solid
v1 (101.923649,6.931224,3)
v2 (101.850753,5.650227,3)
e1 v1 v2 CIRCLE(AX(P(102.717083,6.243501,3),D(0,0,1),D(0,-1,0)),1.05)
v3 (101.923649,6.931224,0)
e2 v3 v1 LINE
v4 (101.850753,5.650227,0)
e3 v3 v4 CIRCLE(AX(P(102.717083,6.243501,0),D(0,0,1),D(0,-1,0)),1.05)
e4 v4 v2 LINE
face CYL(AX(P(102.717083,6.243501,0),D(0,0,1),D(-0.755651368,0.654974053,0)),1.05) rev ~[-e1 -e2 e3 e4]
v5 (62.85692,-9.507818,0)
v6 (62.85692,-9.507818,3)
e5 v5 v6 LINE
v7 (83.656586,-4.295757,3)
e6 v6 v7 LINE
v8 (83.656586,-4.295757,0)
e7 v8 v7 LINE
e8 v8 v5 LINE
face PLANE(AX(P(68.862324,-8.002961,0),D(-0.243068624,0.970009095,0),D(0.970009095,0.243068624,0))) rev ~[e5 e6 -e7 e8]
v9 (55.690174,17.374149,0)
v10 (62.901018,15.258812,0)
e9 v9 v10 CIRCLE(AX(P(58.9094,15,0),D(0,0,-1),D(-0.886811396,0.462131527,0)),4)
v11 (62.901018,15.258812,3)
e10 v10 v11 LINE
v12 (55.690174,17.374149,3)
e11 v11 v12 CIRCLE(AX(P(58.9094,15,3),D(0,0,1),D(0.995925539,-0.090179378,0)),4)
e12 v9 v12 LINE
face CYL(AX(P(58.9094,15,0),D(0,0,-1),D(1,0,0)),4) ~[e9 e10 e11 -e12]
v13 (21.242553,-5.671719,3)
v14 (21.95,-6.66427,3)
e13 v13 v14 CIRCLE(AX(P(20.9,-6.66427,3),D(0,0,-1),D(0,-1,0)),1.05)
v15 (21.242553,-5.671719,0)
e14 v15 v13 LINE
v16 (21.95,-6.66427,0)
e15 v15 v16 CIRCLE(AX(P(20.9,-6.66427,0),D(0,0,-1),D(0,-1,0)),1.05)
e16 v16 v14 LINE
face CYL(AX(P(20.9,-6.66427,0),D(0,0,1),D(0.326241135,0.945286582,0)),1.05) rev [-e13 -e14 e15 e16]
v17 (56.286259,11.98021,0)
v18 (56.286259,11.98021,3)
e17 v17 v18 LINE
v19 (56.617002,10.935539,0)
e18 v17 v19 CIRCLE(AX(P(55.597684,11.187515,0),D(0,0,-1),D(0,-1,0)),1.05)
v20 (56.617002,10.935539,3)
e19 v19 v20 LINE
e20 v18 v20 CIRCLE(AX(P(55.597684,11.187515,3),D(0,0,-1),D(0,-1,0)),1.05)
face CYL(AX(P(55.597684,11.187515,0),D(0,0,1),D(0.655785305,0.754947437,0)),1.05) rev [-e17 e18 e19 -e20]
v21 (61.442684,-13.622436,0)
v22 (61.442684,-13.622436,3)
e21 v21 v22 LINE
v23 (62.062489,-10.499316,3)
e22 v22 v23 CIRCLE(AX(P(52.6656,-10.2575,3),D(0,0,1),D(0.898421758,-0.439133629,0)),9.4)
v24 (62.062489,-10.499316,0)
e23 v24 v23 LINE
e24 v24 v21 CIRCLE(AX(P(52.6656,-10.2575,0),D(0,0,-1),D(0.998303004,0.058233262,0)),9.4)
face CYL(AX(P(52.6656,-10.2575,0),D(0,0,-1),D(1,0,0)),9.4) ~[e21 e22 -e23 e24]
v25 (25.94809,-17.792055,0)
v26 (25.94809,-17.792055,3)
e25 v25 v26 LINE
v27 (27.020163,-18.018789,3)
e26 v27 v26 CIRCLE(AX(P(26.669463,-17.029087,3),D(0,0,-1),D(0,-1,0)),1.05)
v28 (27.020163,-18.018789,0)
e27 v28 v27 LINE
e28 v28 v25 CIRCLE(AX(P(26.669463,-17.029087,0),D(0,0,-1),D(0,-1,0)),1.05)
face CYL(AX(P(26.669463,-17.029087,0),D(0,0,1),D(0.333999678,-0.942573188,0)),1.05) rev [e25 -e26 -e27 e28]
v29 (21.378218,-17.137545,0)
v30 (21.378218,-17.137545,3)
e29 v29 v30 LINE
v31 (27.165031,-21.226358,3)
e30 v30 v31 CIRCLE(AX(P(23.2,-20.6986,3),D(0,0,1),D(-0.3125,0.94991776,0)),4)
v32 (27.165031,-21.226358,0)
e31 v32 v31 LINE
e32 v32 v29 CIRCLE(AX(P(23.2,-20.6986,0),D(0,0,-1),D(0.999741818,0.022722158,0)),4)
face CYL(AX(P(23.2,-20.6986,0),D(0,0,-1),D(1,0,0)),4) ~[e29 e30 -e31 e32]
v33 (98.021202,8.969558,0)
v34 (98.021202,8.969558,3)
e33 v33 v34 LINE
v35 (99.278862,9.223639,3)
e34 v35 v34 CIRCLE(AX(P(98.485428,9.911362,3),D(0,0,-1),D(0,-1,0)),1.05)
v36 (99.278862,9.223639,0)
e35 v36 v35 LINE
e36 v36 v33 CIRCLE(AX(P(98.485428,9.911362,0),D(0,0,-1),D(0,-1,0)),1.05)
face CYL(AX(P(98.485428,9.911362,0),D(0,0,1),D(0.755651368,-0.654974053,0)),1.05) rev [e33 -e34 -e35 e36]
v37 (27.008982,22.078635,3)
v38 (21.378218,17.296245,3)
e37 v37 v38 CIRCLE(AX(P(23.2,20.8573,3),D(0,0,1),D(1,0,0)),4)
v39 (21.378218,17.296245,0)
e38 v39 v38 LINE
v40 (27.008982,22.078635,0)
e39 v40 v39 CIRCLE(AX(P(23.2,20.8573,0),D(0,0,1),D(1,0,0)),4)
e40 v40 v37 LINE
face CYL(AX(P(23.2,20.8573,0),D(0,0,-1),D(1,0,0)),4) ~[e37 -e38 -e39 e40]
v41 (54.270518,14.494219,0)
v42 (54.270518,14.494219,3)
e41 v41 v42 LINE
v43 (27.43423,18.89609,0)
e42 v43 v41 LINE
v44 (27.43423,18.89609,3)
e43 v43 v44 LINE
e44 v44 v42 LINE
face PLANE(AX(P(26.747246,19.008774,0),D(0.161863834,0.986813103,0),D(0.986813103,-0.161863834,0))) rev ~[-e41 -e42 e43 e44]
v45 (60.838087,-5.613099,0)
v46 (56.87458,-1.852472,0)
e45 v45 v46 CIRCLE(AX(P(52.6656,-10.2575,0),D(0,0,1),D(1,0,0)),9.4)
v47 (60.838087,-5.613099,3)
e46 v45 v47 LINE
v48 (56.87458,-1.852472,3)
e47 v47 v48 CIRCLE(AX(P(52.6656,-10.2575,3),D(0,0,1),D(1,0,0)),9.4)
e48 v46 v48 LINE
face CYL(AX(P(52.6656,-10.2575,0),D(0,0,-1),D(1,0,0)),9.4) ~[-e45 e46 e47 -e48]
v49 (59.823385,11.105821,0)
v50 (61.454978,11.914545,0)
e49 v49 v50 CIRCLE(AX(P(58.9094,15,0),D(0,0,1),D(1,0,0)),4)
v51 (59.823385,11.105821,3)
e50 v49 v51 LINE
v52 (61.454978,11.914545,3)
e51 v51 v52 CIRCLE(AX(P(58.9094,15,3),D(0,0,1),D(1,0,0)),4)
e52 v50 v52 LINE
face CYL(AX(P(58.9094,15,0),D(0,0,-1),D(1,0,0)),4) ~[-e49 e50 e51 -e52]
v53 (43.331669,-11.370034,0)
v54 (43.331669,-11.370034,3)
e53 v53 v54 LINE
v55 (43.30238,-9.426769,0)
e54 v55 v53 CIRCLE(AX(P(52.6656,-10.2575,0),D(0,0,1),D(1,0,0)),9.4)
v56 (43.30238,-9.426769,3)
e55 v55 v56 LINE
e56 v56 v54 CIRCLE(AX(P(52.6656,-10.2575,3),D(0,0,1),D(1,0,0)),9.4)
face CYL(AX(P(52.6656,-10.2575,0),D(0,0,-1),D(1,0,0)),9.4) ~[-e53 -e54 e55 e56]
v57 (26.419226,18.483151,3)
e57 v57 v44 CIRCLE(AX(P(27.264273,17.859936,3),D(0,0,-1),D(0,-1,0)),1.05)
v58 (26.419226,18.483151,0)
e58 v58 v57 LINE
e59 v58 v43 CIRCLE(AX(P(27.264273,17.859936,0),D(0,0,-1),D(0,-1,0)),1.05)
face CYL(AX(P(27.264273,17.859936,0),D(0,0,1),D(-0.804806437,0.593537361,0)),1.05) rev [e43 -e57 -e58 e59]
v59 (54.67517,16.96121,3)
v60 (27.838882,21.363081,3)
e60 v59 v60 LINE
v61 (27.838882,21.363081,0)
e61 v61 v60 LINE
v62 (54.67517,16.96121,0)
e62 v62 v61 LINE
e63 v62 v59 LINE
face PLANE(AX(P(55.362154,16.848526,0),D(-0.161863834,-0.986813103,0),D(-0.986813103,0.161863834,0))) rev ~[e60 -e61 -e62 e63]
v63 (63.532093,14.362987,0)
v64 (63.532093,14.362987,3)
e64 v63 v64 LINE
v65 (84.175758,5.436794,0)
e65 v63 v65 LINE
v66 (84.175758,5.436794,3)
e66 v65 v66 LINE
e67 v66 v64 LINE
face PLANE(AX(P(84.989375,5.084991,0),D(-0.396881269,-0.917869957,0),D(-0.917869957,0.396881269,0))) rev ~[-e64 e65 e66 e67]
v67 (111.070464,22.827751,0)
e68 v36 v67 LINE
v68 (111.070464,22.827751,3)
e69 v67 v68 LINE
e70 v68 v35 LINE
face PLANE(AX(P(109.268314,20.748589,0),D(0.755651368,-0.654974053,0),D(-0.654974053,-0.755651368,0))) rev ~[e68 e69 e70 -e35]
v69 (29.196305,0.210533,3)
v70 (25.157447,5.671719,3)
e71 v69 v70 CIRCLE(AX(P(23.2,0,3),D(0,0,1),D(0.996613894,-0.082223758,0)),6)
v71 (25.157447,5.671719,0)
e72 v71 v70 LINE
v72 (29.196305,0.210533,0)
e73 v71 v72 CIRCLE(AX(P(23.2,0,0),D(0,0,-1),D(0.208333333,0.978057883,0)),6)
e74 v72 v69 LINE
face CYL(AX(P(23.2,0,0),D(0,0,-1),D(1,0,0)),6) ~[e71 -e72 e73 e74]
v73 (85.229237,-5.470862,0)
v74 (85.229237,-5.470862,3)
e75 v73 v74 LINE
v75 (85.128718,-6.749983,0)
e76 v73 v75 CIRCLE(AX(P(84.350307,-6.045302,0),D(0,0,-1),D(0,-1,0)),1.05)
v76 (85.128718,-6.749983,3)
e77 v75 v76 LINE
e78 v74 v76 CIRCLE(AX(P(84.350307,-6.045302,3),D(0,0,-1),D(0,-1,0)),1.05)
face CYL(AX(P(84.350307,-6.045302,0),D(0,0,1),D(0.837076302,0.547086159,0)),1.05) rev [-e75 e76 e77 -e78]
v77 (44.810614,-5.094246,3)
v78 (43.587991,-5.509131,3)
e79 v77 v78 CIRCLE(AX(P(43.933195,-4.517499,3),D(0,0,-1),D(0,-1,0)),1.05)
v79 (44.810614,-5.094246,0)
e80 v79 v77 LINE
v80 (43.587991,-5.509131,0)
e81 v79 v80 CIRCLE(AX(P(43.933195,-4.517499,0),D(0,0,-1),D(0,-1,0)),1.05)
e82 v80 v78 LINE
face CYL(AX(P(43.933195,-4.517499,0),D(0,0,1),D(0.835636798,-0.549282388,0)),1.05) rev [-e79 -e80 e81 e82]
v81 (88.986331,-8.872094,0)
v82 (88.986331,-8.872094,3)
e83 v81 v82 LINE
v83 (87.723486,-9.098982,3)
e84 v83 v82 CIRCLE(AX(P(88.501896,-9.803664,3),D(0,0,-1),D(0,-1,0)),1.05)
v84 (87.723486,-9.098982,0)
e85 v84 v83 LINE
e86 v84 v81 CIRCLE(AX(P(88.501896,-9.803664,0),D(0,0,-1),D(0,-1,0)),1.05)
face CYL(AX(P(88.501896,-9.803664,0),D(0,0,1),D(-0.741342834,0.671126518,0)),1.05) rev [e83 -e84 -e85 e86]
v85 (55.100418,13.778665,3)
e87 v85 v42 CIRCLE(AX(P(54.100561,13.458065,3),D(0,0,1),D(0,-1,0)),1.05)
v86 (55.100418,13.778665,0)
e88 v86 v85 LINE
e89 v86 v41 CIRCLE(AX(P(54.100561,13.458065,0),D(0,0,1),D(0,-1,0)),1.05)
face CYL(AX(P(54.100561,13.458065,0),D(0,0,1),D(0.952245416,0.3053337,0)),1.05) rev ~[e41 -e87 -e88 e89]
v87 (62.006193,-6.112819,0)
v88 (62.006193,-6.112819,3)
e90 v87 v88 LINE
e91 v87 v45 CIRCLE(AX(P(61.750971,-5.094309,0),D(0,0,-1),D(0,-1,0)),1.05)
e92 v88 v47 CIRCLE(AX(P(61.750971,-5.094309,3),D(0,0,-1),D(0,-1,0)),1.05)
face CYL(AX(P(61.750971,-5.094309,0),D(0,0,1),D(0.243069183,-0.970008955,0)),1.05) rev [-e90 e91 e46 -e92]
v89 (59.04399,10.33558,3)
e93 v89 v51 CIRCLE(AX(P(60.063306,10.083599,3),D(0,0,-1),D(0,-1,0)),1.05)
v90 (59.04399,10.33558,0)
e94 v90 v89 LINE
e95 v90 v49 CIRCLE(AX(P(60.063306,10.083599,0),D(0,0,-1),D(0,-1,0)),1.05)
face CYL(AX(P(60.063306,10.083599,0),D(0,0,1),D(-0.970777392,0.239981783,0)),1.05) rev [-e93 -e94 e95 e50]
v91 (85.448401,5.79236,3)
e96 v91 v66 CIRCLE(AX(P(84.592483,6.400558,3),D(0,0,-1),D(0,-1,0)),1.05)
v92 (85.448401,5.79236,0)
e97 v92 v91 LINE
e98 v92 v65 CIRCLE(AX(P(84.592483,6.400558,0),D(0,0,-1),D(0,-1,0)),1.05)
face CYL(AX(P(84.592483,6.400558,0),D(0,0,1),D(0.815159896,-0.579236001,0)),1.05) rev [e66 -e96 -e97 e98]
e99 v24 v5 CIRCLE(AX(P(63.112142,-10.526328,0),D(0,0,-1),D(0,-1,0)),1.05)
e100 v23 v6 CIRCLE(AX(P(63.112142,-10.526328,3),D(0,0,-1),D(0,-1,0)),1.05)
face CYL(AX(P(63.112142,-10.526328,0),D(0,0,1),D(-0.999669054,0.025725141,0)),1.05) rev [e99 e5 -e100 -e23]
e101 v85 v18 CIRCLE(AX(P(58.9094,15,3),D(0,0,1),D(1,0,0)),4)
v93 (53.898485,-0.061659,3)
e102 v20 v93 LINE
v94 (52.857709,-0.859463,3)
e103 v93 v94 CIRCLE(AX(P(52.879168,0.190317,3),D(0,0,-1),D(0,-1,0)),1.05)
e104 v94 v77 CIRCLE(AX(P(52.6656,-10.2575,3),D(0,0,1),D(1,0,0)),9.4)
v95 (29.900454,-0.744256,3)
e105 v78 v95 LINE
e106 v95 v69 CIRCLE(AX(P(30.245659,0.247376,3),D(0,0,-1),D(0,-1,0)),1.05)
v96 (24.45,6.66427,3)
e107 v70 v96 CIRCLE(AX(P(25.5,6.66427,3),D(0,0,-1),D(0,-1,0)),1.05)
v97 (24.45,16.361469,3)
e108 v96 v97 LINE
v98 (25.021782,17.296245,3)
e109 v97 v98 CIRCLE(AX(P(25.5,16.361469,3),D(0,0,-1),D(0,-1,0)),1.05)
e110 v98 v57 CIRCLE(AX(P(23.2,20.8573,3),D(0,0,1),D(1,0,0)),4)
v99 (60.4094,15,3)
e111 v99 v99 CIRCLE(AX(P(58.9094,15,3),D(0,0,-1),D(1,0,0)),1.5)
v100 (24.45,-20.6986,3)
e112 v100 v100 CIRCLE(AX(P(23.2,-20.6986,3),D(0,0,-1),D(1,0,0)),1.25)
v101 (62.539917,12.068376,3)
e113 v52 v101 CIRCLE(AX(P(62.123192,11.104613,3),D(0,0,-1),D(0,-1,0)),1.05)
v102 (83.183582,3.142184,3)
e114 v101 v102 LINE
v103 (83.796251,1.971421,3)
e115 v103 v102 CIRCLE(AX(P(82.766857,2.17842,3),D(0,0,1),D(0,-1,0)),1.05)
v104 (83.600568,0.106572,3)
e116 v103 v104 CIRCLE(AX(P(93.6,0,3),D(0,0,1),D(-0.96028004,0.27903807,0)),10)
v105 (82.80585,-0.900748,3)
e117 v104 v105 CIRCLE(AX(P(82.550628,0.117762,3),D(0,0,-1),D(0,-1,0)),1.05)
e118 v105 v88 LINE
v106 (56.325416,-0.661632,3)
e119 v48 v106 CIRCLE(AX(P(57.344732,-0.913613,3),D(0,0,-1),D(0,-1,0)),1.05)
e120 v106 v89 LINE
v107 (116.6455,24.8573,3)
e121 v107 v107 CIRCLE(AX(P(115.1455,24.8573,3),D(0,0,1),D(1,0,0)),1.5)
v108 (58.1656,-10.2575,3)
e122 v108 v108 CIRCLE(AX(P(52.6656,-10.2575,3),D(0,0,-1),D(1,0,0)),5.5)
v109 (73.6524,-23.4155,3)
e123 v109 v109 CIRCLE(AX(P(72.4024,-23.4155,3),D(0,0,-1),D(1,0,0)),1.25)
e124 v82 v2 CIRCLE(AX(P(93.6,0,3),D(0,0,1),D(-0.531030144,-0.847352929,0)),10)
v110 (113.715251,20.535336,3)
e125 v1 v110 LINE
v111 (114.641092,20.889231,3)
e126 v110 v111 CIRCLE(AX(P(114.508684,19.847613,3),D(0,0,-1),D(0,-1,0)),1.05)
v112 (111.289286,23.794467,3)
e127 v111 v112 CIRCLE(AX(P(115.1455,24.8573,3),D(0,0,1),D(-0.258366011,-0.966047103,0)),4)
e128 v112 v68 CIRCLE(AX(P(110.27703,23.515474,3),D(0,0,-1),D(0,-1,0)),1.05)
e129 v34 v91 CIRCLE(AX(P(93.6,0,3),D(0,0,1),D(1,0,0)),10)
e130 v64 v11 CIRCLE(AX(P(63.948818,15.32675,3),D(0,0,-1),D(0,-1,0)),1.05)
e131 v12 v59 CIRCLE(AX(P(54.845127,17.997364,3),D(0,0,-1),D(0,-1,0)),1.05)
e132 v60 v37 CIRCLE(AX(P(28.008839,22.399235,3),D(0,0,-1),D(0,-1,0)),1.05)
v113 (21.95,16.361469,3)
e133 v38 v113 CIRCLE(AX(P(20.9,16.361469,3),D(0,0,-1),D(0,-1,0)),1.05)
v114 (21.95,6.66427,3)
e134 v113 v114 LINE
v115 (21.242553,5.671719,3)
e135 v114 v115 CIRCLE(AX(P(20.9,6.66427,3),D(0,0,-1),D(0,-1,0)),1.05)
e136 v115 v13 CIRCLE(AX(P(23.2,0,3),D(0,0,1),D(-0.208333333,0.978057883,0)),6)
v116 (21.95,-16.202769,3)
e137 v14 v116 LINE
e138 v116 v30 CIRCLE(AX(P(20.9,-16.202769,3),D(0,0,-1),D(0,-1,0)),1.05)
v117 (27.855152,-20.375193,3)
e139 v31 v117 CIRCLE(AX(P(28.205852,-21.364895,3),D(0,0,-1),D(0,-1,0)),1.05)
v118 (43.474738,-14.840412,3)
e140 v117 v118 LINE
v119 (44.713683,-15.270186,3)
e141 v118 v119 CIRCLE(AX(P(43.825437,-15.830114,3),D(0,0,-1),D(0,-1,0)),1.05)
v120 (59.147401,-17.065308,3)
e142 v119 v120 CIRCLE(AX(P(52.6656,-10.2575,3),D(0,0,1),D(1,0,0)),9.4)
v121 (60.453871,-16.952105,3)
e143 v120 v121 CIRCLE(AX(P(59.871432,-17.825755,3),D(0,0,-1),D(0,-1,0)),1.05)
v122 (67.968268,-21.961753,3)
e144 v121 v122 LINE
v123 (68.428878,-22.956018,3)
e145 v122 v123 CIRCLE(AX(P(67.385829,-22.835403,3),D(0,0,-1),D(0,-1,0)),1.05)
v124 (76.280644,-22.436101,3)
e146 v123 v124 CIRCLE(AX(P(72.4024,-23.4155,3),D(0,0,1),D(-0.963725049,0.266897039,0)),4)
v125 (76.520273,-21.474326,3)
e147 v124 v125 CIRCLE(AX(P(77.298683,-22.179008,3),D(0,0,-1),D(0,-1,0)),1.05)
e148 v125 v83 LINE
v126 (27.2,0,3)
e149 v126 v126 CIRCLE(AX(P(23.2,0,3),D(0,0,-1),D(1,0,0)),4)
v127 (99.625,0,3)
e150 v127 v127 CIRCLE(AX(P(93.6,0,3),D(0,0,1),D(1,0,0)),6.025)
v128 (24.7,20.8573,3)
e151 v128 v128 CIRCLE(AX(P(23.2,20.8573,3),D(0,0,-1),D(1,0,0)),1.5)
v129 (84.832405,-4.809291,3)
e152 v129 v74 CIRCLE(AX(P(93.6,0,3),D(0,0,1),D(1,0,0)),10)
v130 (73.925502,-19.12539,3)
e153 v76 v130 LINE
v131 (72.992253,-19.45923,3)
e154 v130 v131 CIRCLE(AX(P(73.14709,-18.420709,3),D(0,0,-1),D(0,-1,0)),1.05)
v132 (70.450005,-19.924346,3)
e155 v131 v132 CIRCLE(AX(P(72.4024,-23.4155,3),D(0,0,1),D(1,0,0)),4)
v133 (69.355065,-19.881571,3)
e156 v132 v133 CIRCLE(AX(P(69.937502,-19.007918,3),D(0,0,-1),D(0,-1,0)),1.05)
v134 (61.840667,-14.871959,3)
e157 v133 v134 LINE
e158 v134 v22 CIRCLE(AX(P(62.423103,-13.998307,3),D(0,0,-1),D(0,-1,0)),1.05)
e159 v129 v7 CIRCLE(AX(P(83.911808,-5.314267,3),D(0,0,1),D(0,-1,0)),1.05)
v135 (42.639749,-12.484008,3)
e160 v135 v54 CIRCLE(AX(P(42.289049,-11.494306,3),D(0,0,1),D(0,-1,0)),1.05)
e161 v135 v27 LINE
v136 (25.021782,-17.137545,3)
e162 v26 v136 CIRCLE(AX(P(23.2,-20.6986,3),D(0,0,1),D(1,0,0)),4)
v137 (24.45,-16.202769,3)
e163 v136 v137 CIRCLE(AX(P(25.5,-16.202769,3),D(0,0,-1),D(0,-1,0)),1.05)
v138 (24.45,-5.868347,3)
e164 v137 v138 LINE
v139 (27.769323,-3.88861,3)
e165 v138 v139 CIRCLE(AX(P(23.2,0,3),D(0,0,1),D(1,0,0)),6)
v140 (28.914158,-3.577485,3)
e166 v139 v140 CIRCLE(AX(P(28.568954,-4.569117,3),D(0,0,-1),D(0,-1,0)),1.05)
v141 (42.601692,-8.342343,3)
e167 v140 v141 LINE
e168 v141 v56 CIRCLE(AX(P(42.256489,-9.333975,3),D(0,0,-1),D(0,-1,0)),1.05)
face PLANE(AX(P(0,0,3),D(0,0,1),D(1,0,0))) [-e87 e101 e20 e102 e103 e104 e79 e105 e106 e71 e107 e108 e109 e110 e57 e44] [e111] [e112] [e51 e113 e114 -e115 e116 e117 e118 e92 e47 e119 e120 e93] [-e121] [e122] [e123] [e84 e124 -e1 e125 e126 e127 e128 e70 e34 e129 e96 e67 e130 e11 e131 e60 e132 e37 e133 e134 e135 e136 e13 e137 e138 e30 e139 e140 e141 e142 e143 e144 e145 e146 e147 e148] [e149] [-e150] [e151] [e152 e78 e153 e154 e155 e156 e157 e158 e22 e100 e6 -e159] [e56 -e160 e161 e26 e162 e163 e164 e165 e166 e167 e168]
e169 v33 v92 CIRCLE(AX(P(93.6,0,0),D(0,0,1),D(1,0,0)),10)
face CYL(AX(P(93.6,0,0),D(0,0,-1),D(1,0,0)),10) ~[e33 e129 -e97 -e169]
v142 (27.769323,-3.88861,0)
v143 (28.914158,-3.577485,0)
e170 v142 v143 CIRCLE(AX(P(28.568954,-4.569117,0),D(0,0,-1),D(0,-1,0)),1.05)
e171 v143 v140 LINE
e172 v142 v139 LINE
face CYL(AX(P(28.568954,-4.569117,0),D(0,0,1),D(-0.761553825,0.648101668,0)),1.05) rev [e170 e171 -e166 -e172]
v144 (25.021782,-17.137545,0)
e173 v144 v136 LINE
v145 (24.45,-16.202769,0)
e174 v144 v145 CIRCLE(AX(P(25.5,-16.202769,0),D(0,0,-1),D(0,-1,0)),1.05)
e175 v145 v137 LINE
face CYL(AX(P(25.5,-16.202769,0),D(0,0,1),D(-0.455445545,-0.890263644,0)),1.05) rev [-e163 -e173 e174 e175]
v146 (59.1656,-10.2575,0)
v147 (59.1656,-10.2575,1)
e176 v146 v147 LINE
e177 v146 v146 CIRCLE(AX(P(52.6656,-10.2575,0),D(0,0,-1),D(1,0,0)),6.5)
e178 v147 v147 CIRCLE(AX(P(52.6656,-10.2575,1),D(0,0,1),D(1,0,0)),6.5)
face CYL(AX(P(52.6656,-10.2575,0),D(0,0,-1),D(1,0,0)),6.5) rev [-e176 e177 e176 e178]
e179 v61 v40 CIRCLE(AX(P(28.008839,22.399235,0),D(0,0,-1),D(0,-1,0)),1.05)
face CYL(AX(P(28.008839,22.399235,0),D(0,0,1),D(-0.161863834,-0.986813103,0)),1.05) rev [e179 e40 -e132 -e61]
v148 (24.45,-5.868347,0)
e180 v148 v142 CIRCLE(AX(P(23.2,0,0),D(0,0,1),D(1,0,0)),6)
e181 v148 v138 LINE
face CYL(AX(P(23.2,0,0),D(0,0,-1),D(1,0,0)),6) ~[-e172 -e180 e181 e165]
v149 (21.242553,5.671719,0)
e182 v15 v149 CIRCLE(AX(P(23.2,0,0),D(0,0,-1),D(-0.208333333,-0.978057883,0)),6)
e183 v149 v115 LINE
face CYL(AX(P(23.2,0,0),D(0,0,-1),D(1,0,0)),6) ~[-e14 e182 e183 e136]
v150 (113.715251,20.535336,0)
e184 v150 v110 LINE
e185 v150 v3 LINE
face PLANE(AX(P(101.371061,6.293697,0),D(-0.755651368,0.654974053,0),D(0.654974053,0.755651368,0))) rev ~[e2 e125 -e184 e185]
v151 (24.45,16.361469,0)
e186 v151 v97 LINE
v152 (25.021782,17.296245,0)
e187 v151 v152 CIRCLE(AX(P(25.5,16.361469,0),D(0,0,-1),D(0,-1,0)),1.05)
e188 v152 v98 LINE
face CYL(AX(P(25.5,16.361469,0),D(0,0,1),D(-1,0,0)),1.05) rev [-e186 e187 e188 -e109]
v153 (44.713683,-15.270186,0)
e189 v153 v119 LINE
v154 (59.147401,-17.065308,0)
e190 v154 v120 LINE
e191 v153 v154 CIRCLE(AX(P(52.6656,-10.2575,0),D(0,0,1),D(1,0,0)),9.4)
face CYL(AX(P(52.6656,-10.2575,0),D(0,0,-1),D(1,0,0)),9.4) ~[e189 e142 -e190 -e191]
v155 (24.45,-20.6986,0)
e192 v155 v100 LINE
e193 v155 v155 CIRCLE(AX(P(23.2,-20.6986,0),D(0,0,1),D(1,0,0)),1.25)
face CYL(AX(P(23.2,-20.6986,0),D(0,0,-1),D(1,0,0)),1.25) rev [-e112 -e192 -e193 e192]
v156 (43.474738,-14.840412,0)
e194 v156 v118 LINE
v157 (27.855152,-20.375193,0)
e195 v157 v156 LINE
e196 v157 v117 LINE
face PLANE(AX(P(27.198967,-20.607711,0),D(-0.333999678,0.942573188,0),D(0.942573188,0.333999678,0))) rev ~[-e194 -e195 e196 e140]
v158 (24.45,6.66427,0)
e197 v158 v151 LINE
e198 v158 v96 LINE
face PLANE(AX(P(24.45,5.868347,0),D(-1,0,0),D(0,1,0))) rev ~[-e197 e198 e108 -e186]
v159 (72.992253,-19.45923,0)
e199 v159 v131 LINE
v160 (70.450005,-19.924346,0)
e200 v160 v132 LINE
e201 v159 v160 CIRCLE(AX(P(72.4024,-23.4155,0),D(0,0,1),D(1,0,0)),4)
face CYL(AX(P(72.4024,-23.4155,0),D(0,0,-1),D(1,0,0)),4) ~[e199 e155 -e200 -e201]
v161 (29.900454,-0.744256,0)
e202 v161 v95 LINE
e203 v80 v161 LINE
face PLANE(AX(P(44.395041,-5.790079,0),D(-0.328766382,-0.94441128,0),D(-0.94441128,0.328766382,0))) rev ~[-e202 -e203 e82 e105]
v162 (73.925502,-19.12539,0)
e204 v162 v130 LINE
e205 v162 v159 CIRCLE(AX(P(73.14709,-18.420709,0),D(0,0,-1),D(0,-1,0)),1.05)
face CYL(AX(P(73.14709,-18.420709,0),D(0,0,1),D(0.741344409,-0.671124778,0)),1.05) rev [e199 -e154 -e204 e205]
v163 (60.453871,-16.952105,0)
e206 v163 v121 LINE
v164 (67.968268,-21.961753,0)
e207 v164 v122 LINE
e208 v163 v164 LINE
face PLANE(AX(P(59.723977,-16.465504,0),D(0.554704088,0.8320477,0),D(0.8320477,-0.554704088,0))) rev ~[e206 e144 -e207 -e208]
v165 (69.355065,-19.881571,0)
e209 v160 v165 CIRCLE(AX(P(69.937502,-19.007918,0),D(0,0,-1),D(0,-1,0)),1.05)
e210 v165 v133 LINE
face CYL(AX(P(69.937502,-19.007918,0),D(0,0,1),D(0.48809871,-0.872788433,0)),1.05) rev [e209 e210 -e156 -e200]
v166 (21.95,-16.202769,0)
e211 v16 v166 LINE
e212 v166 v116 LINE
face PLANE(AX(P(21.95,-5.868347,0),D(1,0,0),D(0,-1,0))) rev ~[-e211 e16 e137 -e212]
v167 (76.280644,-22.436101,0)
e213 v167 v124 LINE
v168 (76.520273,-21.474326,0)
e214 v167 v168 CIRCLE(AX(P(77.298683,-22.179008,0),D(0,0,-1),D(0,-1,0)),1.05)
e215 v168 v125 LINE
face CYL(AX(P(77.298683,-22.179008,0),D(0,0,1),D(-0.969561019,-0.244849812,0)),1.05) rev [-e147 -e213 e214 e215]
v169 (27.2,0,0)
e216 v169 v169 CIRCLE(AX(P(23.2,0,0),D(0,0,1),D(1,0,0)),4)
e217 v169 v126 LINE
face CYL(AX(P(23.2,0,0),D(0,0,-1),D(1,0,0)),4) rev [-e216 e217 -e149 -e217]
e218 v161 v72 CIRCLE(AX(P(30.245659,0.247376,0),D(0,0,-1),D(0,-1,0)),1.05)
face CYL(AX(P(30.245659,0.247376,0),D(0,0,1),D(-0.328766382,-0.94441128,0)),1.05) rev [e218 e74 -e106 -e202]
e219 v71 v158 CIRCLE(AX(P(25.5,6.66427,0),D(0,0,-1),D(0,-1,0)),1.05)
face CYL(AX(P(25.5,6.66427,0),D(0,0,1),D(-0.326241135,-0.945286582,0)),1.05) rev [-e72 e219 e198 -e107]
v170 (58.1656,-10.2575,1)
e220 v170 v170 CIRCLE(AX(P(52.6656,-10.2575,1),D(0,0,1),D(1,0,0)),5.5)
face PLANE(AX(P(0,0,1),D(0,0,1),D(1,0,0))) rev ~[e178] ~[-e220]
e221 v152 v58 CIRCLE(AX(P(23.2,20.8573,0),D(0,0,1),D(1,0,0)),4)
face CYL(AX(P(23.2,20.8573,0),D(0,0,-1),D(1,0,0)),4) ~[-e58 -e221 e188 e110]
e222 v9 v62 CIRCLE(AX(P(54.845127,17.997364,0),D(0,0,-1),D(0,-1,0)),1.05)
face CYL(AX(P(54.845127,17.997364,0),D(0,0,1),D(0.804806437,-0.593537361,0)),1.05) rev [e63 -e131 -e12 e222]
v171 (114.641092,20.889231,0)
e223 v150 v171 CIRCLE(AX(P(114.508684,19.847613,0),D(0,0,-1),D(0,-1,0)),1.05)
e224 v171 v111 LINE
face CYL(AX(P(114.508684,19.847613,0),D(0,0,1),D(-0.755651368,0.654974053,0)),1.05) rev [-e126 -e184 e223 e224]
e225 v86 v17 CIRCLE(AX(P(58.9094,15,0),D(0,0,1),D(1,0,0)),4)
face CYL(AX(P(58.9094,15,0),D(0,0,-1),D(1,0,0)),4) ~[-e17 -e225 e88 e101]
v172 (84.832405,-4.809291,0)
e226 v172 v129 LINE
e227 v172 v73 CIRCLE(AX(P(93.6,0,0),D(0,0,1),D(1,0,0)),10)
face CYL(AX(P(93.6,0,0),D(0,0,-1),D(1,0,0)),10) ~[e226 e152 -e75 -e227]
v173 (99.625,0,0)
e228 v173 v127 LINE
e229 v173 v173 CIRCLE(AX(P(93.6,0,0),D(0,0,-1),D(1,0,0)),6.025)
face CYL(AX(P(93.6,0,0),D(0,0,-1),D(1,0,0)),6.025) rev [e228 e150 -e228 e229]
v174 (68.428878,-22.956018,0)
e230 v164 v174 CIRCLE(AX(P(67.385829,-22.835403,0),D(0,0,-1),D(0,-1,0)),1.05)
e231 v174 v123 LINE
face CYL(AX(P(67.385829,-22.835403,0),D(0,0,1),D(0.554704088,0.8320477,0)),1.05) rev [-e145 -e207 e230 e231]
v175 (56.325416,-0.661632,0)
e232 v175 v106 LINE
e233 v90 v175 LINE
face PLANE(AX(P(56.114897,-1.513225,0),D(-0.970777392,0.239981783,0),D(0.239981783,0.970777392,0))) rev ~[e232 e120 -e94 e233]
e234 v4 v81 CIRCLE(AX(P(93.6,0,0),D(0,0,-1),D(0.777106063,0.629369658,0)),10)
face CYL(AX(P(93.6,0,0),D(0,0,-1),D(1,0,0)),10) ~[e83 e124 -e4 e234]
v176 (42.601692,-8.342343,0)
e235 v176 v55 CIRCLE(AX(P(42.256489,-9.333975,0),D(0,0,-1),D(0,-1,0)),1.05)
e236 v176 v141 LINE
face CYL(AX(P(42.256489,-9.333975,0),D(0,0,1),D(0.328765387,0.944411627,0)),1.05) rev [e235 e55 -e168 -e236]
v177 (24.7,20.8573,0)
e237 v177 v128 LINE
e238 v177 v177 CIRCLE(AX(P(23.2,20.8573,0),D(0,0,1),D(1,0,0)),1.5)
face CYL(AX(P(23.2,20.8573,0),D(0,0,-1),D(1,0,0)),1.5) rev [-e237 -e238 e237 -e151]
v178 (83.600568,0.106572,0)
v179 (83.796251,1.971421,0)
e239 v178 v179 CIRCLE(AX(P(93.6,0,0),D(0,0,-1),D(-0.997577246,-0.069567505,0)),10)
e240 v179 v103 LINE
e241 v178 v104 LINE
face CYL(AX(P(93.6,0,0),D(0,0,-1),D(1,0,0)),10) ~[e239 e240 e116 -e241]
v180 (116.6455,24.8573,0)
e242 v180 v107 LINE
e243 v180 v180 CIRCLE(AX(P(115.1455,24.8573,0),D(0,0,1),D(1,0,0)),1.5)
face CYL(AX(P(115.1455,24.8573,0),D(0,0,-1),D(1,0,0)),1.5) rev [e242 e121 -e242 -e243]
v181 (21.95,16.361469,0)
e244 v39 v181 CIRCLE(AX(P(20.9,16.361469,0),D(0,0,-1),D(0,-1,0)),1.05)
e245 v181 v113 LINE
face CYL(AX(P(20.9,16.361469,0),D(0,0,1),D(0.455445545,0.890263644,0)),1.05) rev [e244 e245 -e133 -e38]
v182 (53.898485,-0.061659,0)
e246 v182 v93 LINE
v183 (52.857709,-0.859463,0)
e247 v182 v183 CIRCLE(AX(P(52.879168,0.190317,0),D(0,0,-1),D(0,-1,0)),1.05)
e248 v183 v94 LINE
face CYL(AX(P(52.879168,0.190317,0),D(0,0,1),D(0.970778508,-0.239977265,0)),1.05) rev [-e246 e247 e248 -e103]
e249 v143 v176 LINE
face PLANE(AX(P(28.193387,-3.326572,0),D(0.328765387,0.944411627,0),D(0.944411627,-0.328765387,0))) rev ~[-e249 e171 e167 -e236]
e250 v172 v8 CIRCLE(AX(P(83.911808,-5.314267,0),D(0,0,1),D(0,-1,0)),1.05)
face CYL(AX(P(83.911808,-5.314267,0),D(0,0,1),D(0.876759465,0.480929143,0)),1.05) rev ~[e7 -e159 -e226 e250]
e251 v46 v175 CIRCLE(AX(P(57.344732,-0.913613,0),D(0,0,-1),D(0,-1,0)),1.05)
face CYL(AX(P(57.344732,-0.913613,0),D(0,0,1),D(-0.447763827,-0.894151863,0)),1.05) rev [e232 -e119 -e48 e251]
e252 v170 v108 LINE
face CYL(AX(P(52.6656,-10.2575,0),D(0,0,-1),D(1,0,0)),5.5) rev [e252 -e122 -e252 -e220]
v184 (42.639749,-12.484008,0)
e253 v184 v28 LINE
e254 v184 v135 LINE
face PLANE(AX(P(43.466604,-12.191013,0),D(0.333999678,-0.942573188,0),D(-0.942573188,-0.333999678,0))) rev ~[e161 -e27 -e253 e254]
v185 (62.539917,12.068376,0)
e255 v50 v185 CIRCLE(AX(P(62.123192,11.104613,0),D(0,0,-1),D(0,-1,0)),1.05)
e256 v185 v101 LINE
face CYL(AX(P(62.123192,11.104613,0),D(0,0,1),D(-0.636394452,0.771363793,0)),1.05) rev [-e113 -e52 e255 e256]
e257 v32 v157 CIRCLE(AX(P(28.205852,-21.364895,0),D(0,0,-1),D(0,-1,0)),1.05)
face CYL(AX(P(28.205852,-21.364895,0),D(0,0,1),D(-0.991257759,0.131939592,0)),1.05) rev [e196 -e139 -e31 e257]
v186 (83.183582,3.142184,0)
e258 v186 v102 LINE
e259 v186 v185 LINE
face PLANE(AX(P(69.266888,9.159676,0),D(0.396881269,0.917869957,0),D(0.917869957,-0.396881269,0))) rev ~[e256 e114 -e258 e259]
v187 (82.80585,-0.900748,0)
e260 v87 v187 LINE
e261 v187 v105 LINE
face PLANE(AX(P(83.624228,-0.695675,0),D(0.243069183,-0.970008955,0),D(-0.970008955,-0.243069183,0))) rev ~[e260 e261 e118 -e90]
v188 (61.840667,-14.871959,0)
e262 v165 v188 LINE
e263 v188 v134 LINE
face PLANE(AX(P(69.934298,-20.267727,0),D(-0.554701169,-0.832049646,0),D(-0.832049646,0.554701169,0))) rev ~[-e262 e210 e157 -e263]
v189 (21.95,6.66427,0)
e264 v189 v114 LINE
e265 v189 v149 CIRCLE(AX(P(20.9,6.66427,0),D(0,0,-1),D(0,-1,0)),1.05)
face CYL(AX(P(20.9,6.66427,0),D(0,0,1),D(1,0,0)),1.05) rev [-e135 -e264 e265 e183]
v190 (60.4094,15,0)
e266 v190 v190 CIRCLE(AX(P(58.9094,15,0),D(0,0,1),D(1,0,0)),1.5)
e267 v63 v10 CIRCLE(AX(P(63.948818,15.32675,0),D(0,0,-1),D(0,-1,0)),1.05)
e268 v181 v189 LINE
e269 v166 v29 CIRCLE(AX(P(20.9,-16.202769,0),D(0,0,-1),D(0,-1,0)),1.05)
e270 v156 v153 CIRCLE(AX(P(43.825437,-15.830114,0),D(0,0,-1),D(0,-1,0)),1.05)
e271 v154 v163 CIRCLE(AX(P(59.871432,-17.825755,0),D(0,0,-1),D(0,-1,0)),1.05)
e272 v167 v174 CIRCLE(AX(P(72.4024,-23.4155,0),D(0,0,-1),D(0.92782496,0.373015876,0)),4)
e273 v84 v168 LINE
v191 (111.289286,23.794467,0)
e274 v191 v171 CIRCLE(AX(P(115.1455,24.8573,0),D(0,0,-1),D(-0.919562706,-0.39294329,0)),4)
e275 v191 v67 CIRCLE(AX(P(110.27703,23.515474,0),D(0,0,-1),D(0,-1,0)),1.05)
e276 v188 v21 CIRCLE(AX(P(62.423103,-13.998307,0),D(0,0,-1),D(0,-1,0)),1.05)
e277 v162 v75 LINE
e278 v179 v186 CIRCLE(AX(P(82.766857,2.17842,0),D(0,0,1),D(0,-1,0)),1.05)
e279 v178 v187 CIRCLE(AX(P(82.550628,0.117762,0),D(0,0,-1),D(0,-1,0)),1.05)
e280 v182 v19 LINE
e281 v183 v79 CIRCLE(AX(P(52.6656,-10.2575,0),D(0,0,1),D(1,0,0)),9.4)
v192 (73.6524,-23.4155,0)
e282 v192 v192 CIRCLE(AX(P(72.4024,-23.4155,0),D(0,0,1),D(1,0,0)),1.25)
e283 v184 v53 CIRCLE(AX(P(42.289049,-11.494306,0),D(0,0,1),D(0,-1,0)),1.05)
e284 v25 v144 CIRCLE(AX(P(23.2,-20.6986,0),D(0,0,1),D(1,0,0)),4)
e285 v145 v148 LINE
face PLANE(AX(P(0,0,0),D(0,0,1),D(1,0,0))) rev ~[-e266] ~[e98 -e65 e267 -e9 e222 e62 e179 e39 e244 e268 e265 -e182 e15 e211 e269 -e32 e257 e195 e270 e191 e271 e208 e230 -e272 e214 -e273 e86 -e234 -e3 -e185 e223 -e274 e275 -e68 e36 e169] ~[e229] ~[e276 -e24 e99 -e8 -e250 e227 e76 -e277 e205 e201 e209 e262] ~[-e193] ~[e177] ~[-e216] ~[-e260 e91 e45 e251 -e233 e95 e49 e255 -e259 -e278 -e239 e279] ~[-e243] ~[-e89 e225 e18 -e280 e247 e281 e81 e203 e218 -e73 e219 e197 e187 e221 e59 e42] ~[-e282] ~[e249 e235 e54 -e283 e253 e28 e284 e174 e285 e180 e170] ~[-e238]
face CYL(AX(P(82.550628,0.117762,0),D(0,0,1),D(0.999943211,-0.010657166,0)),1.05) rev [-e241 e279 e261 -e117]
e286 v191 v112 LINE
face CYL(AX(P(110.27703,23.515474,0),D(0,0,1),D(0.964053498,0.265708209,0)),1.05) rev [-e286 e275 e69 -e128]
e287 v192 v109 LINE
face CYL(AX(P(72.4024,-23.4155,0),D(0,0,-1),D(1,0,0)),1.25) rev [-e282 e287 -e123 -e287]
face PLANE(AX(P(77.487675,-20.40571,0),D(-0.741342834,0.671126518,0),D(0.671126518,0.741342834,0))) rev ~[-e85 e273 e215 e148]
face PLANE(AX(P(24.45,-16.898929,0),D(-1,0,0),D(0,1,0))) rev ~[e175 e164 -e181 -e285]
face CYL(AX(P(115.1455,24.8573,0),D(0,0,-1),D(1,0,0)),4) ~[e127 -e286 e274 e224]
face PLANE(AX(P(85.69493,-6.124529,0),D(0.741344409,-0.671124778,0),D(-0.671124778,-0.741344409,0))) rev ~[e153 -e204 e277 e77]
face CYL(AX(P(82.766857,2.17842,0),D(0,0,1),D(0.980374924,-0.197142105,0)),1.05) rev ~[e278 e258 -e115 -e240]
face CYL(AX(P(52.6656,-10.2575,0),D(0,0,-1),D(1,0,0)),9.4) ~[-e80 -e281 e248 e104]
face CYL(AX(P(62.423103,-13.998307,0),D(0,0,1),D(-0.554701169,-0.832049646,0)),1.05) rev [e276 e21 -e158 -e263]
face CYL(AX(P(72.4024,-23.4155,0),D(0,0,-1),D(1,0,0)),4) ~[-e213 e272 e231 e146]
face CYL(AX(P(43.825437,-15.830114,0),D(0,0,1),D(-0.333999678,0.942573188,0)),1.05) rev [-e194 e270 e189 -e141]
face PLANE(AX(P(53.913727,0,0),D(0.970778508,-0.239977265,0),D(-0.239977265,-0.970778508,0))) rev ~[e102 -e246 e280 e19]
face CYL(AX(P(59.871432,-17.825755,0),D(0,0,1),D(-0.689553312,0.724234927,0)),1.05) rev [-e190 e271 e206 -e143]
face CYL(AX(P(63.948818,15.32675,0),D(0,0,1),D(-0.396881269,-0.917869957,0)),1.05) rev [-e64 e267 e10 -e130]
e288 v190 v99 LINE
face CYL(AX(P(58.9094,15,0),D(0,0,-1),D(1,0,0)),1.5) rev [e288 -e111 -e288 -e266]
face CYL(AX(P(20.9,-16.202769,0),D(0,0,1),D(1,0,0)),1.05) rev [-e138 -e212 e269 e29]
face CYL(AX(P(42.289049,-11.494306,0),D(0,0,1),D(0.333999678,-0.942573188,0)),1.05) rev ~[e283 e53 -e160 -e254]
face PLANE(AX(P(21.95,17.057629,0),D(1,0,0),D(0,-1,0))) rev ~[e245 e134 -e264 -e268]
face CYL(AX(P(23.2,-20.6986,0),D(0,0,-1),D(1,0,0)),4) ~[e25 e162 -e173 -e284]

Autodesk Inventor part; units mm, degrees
ref_plane "YZ Plane" through (0, 0, 0) normal (1, 0, 0) x (0, 1, 0)
ref_plane "XZ Plane" through (0, 0, 0) normal (0, 1, 0) x (-1, 0, 0)
ref_plane "XY Plane" through (0, 0, 0) normal (0, 0, 1) x (1, 0, 0)
sketch "スケッチ1" plane through (0, 0, 0) normal (0, 0, 1) x (1, 0, 0)
  circle A0 centre (93.6, 0) radius 6.025
  circle A1 centre (93.6, 0) radius 8.025
  circle A2 centre (23.2, 0) radius 4
  circle A3 centre (23.2, 0) radius 14.1 construction
  circle A4 centre (93.6, 0) radius 25.1 construction
  circle A5 centre (23.2, 0) radius 16 construction
  circle A6 centre (93.6, 0) radius 27
  line L0 (93.6, 0) -> (43.9613, 30) construction
  line L1 (43.9613, 30) -> (43.9613, 0) construction
  line L2 (93.6, 0) -> (0, 0)
  circle A7 centre (43.9613, 30) radius 1.5
  circle A8 centre (52.6656, -10.2575) radius 5.5
  circle A9 centre (52.6656, -10.2575) radius 19 construction
  circle A10 centre (52.6656, -10.2575) radius 17.1 construction
  circle A11 centre (23.2, 20.8573) radius 1.5
  circle A12 centre (23.2, -20.6986) radius 1.25
  circle A13 centre (58.9094, 15) radius 1.5
  circle A14 centre (72.4024, -23.4155) radius 1.25
  circle A15 centre (115.1455, 24.8573) radius 1.5
  circle A16 centre (23.2, -20.6986) radius 4
  circle A17 centre (23.2, 20.8573) radius 4
  circle A18 centre (72.4024, -23.4155) radius 4
  circle A19 centre (58.9094, 15) radius 4 construction
  circle A20 centre (115.1455, 24.8573) radius 4
  line L3 (23.2, 20.8573) -> (23.2, 0) construction
  line L4 (21.95, 20.8573) -> (21.95, 0)
  line L5 (24.45, 0) -> (24.45, 20.8573)
  arc A21 (24.45, 20.8573) -> (21.95, 20.8573) centre (23.2, 20.8573) ccw
  arc A22 (21.95, 0) -> (24.45, 0) centre (23.2, 0) ccw
  line L6 (23.2, 0) -> (23.2, -20.6986) construction
  line L7 (21.95, 0) -> (21.95, -20.6986)
  line L8 (24.45, -20.6986) -> (24.45, 0)
  arc A23 (24.45, 0) -> (21.95, 0) centre (23.2, 0) ccw
  arc A24 (21.95, -20.6986) -> (24.45, -20.6986) centre (23.2, -20.6986) ccw
  line L9 (23.2, -20.6986) -> (52.6656, -10.2575) construction
  line L10 (23.6175, -21.8768) -> (53.0831, -11.4357)
  line L11 (52.2481, -9.0793) -> (22.7825, -19.5204)
  arc A25 (22.7825, -19.5204) -> (23.6175, -21.8768) centre (23.2, -20.6986) ccw
  arc A26 (53.0831, -11.4357) -> (52.2481, -9.0793) centre (52.6656, -10.2575) ccw
  line L12 (52.6656, -10.2575) -> (72.4024, -23.4155) construction
  line L13 (51.9722, -11.2976) -> (71.709, -24.4556)
  line L14 (73.0958, -22.3754) -> (53.359, -9.2175)
  arc A27 (53.359, -9.2175) -> (51.9722, -11.2976) centre (52.6656, -10.2575) ccw
  arc A28 (71.709, -24.4556) -> (73.0958, -22.3754) centre (72.4024, -23.4155) ccw
  line L15 (72.4024, -23.4155) -> (93.6, 0) construction
  line L16 (73.6997, -24.59) -> (94.8974, -1.1745)
  line L17 (92.3026, 1.1745) -> (71.105, -22.241)
  arc A29 (71.105, -22.241) -> (73.6997, -24.59) centre (72.4024, -23.4155) ccw
  arc A30 (94.8974, -1.1745) -> (92.3026, 1.1745) centre (93.6, 0) ccw
  line L18 (93.6, 0) -> (115.1455, 24.8573) construction
  line L19 (94.9224, -1.1462) -> (116.4679, 23.7111)
  line L20 (113.8231, 26.0035) -> (92.2776, 1.1462)
  arc A31 (92.2776, 1.1462) -> (94.9224, -1.1462) centre (93.6, 0) ccw
  arc A32 (116.4679, 23.7111) -> (113.8231, 26.0035) centre (115.1455, 24.8573) ccw
  line L21 (23.2, 20.8573) -> (58.9094, 15) construction
  line L22 (22.9977, 19.6238) -> (58.7071, 13.7665)
  line L23 (59.1117, 16.2335) -> (23.4023, 22.0908)
  arc A33 (23.4023, 22.0908) -> (22.9977, 19.6238) centre (23.2, 20.8573) ccw
  arc A34 (58.7071, 13.7665) -> (59.1117, 16.2335) centre (58.9094, 15) ccw
  line L24 (58.9094, 15) -> (52.6656, -10.2575) construction
  line L25 (57.6959, 15.3) -> (51.4522, -9.9576)
  line L26 (53.8791, -10.5575) -> (60.1229, 14.7)
  arc A35 (60.1229, 14.7) -> (57.6959, 15.3) centre (58.9094, 15) ccw
  arc A36 (51.4522, -9.9576) -> (53.8791, -10.5575) centre (52.6656, -10.2575) ccw
  line L27 (93.6, 0) -> (58.9094, 15) construction
  line L28 (94.0961, 1.1473) -> (59.4055, 16.1473)
  line L29 (58.4133, 13.8527) -> (93.1039, -1.1473)
  arc A37 (93.1039, -1.1473) -> (94.0961, 1.1473) centre (93.6, 0) ccw
  arc A38 (59.4055, 16.1473) -> (58.4133, 13.8527) centre (58.9094, 15) ccw
  circle A39 centre (93.6, 0) radius 5
  circle A40 centre (52.6656, -10.2575) radius 5 construction
  circle A41 centre (23.2, 0) radius 6
  circle A42 centre (52.6656, -10.2575) radius 9.4
  circle A43 centre (93.6, 0) radius 10
  circle A44 centre (23.2, 0) radius 4.6
  circle A45 centre (52.6656, -10.2575) radius 6.5
  circle A46 centre (23.2, 20.8573) radius 1.5
  line L30 (23.2, 0) -> (52.6656, -10.2575) construction
  line L31 (22.7068, -1.4166) -> (52.1725, -11.6741)
  line L32 (53.1588, -8.8409) -> (23.6932, 1.4166)
  arc A47 (23.6932, 1.4166) -> (22.7068, -1.4166) centre (23.2, 0) ccw
  arc A48 (52.1725, -11.6741) -> (53.1588, -8.8409) centre (52.6656, -10.2575) ccw
  line L33 (52.6656, -10.2575) -> (93.6, 0) construction
  line L34 (53.091, -11.955) -> (94.0254, -1.6975)
  line L35 (93.1746, 1.6975) -> (52.2403, -8.56)
  arc A49 (52.2403, -8.56) -> (53.091, -11.955) centre (52.6656, -10.2575) ccw
  arc A50 (94.0254, -1.6975) -> (93.1746, 1.6975) centre (93.6, 0) ccw
  circle A51 centre (58.9094, 15) radius 4
  circle A52 centre (93.6, 0) radius 26
  point P0 (52.6656, 10.2575)
  point P1 (23.2, 10.4286)
  point P2 (23.2, -10.3493)
  point P3 (37.9328, -15.4781)
  point P4 (62.534, -16.8365)
  point P5 (83.0012, -11.7078)
  point P6 (104.3728, 12.4286)
  point P7 (41.0547, 17.9286)
  point P8 (55.7875, 2.3712)
  point P9 (76.2547, 7.5)
  point P10 (44.3016, -14.5474)
  point P11 (59.724, -16.4655)
  point P12 (74.2557, -25.0933)
  point P13 (89.6412, -6.9806)
  point P14 (100.0521, 4.772)
  point P15 (97.4073, 7.0644)
  point P16 (86.8201, 4.2934)
  point P17 (59.4055, 16.1473)
  point P18 (23.4023, 22.0908)
  point P19 (21.95, 5.8683)
  point P20 (21.95, -5.8683)
  point P21 (24.45, -18.9295)
  point P22 (24.45, -5.8683)
  point P23 (24.45, 5.8683)
  point P24 (24.45, 19.3855)
  point P25 (57.371, 13.9856)
  point P26 (53.6879, -0.9133)
  point P27 (43.4666, -12.191)
  point P28 (87.0465, -4.6316)
  point P29 (71.7784, -21.4972)
  point P30 (61.1108, -14.3854)
  point P31 (56.1149, -1.5132)
  point P32 (59.7685, 13.2667)
  point P33 (85.8279, 1.9988)
  point P34 (85.695, -6.1246)
  point P35 (83.9972, 2.7903)
  point P36 (98.7263, 8.5861)
  point P37 (84.9894, 5.085)
  point P38 (101.3711, 6.2937)
  point P39 (88.2897, -8.4735)
  point P40 (87.6941, 1.1918)
  point P41 (90.4504, 0)
  point P42 (85.575, 0)
  point P43 (87.575, 0)
  point P44 (27.1519, 21.4758)
  point P45 (21.95, 17.0576)
  point P46 (112.5695, 19.2135)
  point P47 (109.9247, 21.5059)
  point P48 (69.3402, 11.8516)
  point P49 (68.348, 9.557)
  point P50 (74.2204, -18.7997)
  point P51 (76.8151, -21.1487)
  point P52 (37.9328, -5.1288)
  point P53 (73.1328, -5.1288)
  point P54 (88.6863, 3.4865)
  point P55 (70.6899, -23.7762)
  point P56 (61.1989, -6.3151)
  point P57 (62.0497, -9.7101)
  point P58 (84.475, -4.0907)
  point P59 (83.6242, -0.6957)
  point P60 (44.3951, -5.7901)
  point P61 (29.1797, -0.4933)
  point P62 (28.1934, -3.3266)
  point P63 (43.4088, -8.6233)
  point P64 (114.112, 20.9931)
  point P65 (111.4673, 23.2855)
  point P66 (68.5475, -22.3479)
  point P67 (76.1137, -21.9234)
  point P68 (73.519, -19.5745)
  point P69 (69.9342, -20.2677)
  point P70 (59.211, 11.0114)
  point P71 (61.9009, 12.3446)
  point P72 (54.9575, 14.3815)
  point P73 (56.7841, 11.6113)
  point P74 (55.3622, 16.8485)
  point P75 (58.2935, 16.3677)
  point P76 (60.1665, 15.8183)
  point P77 (62.8931, 14.6393)
  point P78 (26.364, -18.2513)
  point P79 (24.45, -16.8989)
  point P80 (27.199, -20.6077)
  point P81 (21.95, -16.8989)
  point P82 (67.0395, -4.8516)
  point P83 (67.8902, -8.2466)
  point P84 (74.893, -18.0568)
  point P85 (68.8623, -8.003)
  point P86 (69.2669, 9.1596)
  point P87 (68.0116, -4.608)
  point P88 (70.2591, 11.4543)
  point P89 (109.2683, 20.7486)
  point P90 (26.7472, 19.0087)
  point P91 (24.45, 17.0576)
  point P92 (27.1951, 0.1975)
  point P93 (27.8, -0.013)
  point P94 (27.8, 0)
  point P95 (19.2, 0)
  dimension "d0" = 12.05
  dimension "d1" = 16.05
  dimension "d2" = 8
  dimension "d3" = 28.2
  dimension "d4" = 50.2
  dimension "d5" = 32
  dimension "d6" = 54
  dimension "d7" = 58
  dimension "d8" = 30
  dimension "d9" = 3
  dimension "d10" = 3
  dimension "d11" = 2.5
  dimension "d12" = 3
  dimension "d13" = 2.5
  dimension "d15" = 3
  dimension "d16" = 8
  dimension "d17" = 8
  dimension "d18" = 8
  dimension "d19" = 11
  dimension "d20" = 34.2
  dimension "d21" = 38
  dimension "d22" = 8
  dimension "d23" = 8
  dimension "d24" = 2.5
  dimension "d25" = 2.5
  dimension "d26" = 2.5
  dimension "d27" = 2.5
  dimension "d28" = 3.5
  dimension "d29" = 3.5
  dimension "d30" = 2.5
  dimension "d31" = 2.5
  dimension "d32" = 2.5
  dimension "d33" = 10
  dimension "d34" = 10
  dimension "d39" = 20
  dimension "d40" = 0.6
  dimension "d46" = 3
  dimension "d51" = 3
  dimension "d52" = 3.5
  dimension "d53" = 8
  dimension "d54" = 1
  dimension "d56" = 1.4
  dimension "d57" = 1
  dimension "d58" = 2.9
extrude "押し出し1" add sketch "スケッチ1" along normal blind 3 contours A0 L19 A1 L16 | A0 L20 A1 L19 | L16 A1 L17 A0 | A0 L28 A1 L20 | L19 A43 L16 A1 | A1 L20 A43 L19 | L34 A1 L35 L2 A0 | L17 A1 L34 | L16 A43 L17 A1 | A0 L29 A1 L28 | A1 L28 A43 L20 | A43 L20 A52 L19 | L2 L35 A0 | L17 A43 L34 A1 | L34 A43 L35 A1 | L16 A52 L17 A43 | A0 L35 L2 A1 L29 | A1 L29 A43 L28 | A52 L20 A6 L19 | L35 A1 L2 | L35 A43 L2 A1 | L34 A52 L35 A43 | L16 A6 L17 A52 | A1 L2 A43 L29 | A43 L29 A52 L28 | A6 L20 A20 L19 | L34 A6 L35 A52 | L16 A18 L17 A6 | A52 L29 A6 L28 | L19 A32 L20 A20 | A20 L20 A32 L19 | L34 A42 L35 A6 | L16 A29 L13 A14 L14 L17 A18 | A18 L13 A29 L16 | A6 L29 A51 L28 | L17 L14 A18 | L34 A45 L35 A42 | A42 L14 A45 L34 | A51 L29 L26 A13 L28 | L28 A13 L23 A51 | L14 L17 A29 L13 A18 | A18 L13 A42 L14 | L14 A14 L13 A29 L17 | L35 A45 L26 A42 | L34 A8 L35 A45 | A45 L14 A8 L34 | A51 L26 L29 | L26 A42 L25 L2 | L2 L25 A51 L26 | A42 L13 A45 L14 | L26 A45 L25 A42 | L35 A8 L26 A45 | A45 L13 A8 L14 | A42 L10 A45 L13 | L29 A13 L26 | L26 A51 L25 L22 A13 L29 | A13 L25 L22 A51 L23 | A51 L22 A17 L23 | L26 A8 L25 A45 | L25 A45 L32 A42 | A45 L10 A8 L13 | A42 L11 A45 L10 | L10 A16 L11 A42 | A51 L22 L25 | A13 L22 L25 | L23 A11 L4 A17 | A17 L22 L5 A11 L23 | A41 L32 A44 L2 | L2 A44 L5 A41 | L25 A8 L32 A45 | L32 A45 L31 A42 | A42 L31 A41 L32 | A45 L11 A8 L10 | L10 A12 L8 L11 A16 | A16 L7 A12 L10 | A42 L31 A45 L11 | L4 A11 L22 L5 A17 | A17 L5 A41 L4 | A17 L5 L22 | A44 L32 L2 | L2 L32 A2 L5 A44 | L5 A44 L4 A41 | A41 L31 A44 L32 | L32 A8 L31 A45 | A45 L31 A8 L11 | L11 L8 A16 | L4 A44 L2 A41 | L22 A11 L5 | L32 A44 L31 A2 L2 | L2 A2 L32 | L5 A2 L4 A44 | A41 L8 A44 L31 | L7 A41 L8 A16 | A16 L8 L11 A12 L7 | L8 A12 L11 | L4 A2 L2 A44 | L2 A44 L7 A41 | A44 L8 A2 L31 | A41 L7 A44 L8 | L2 A2 L7 A44 | A44 L7 A2 L8
extrude "押し出し2" cut sketch "スケッチ1" along normal blind 1 contours L34 A8 L35 A45 | A45 L14 A8 L34 | L35 A8 L26 A45 | A45 L13 A8 L14 | L26 A8 L25 A45 | A45 L10 A8 L13 | L25 A8 L32 A45 | A45 L11 A8 L10 | L32 A8 L31 A45 | A45 L31 A8 L11
sketch "スケッチ2" plane through (0, 0, 3) normal (0, 0, 1) x (1, 0, 0)
  line L0 (27.199, -20.6077) -> (44.3016, -14.5474) projected
  arc A0 (44.3016, -14.5474) -> (59.724, -16.4655) centre (52.6656, -10.2575) ccw projected
  line L1 (59.724, -16.4655) -> (68.5475, -22.3479) projected
  line L2 (76.1137, -21.9234) -> (88.2897, -8.4735) projected
  arc A1 (88.2897, -8.4735) -> (101.3711, 6.2937) centre (93.6, 0) ccw projected
  line L3 (101.3711, 6.2937) -> (114.112, 20.9931) projected
  arc A2 (98.7263, 8.5861) -> (84.9894, 5.085) centre (93.6, 0) ccw projected
  line L4 (55.3622, 16.8485) -> (27.1519, 21.4758) projected
  line L5 (21.95, 17.0576) -> (21.95, 5.8683) projected
  arc A3 (21.95, 5.8683) -> (21.95, -5.8683) centre (23.2, 0) ccw projected
  line L6 (21.95, -5.8683) -> (21.95, -16.8989) projected
  line L7 (24.45, 5.8683) -> (24.45, 17.0576) projected
  line L8 (26.7472, 19.0087) -> (54.9575, 14.3815) projected
  line L9 (56.7841, 11.6113) -> (53.6879, -0.9133) projected
  arc A4 (53.6879, -0.9133) -> (44.3951, -5.7901) centre (52.6656, -10.2575) ccw projected
  line L10 (43.4666, -12.191) -> (26.364, -18.2513) projected
  line L11 (24.45, -16.8989) -> (24.45, -5.8683) projected
  arc A5 (29.1797, -0.4933) -> (24.45, 5.8683) centre (23.2, 0) ccw projected
  circle A6 centre (58.9094, 15) radius 1.5 projected
  circle A7 centre (72.4024, -23.4155) radius 1.25 projected
  circle A8 centre (115.1455, 24.8573) radius 1.5 projected
  circle A9 centre (23.2, -20.6986) radius 1.25 projected
  circle A10 centre (23.2, 0) radius 4 projected
  circle A11 centre (93.6, 0) radius 6.025 projected
  line L12 (56.1149, -1.5132) -> (59.211, 11.0114) projected
  arc A12 (83.9972, 2.7903) -> (83.6242, -0.6957) centre (93.6, 0) ccw projected
  line L13 (69.9342, -20.2677) -> (61.1108, -14.3854) projected
  arc A13 (61.1989, -6.3151) -> (56.1149, -1.5132) centre (52.6656, -10.2575) ccw projected
  arc A14 (27.1519, 21.4758) -> (21.95, 17.0576) centre (23.2, 20.8573) ccw projected
  line L14 (28.1934, -3.3266) -> (43.4088, -8.6233) projected
  arc A15 (43.4088, -8.6233) -> (43.4666, -12.191) centre (52.6656, -10.2575) ccw projected
  arc A16 (26.364, -18.2513) -> (24.45, -16.8989) centre (23.2, -20.6986) ccw projected
  arc A17 (24.45, -5.8683) -> (28.1934, -3.3266) centre (23.2, 0) ccw projected
  arc A18 (84.475, -4.0907) -> (85.695, -6.1246) centre (93.6, 0) ccw projected
  arc A19 (73.519, -19.5745) -> (69.9342, -20.2677) centre (72.4024, -23.4155) ccw projected
  arc A20 (61.1108, -14.3854) -> (62.0497, -9.7101) centre (52.6656, -10.2575) ccw projected
  arc A21 (59.211, 11.0114) -> (61.9009, 12.3446) centre (58.9094, 15) ccw projected
  arc A22 (54.9575, 14.3815) -> (56.7841, 11.6113) centre (58.9094, 15) ccw projected
  line L15 (44.3951, -5.7901) -> (29.1797, -0.4933) projected
  arc A23 (21.95, -16.8989) -> (27.199, -20.6077) centre (23.2, -20.6986) ccw projected
  arc A24 (68.5475, -22.3479) -> (76.1137, -21.9234) centre (72.4024, -23.4155) ccw projected
  arc A25 (114.112, 20.9931) -> (111.4673, 23.2855) centre (115.1455, 24.8573) ccw projected
  arc A26 (62.8931, 14.6393) -> (55.3622, 16.8485) centre (58.9094, 15) ccw projected
  line L16 (61.9009, 12.3446) -> (83.9972, 2.7903) projected
  line L17 (83.6242, -0.6957) -> (61.1989, -6.3151) projected
  line L18 (85.695, -6.1246) -> (73.519, -19.5745) projected
  line L19 (62.0497, -9.7101) -> (84.475, -4.0907) projected
  line L20 (111.4673, 23.2855) -> (98.7263, 8.5861) projected
  line L21 (84.9894, 5.085) -> (62.8931, 14.6393) projected
  arc A27 (24.45, 17.0576) -> (26.7472, 19.0087) centre (23.2, 20.8573) ccw projected
  point P0 (0, 0)
thread "ねじ1" size "M3x0.5" class "6H" standard "ANSI Metric M Profile" full length
fillet "フィレット1" radius 1.05 43 edges at (24.45, -16.8989, 1.5) (26.364, -18.2513, 1.5) (27.199, -20.6077, 1.5) (21.95, -16.8989, 1.5) (21.95, -5.8683, 1.5) (21.95, 17.0576, 1.5) (21.95, 5.8683, 1.5) (29.1797, -0.4933, 1.5) (24.45, 5.8683, 1.5) (28.1934, -3.3266, 1.5) (43.4088, -8.6233, 1.5) (43.4666, -12.191, 1.5) (44.3016, -14.5474, 1.5) (56.7841, 11.6113, 1.5) (54.9575, 14.3815, 1.5) (61.9009, 12.3446, 1.5) (59.724, -16.4655, 1.5) (59.211, 11.0114, 1.5) (56.1149, -1.5132, 1.5) (61.1989, -6.3151, 1.5) (44.3951, -5.7901, 1.5) (53.6879, -0.9133, 1.5) (55.3622, 16.8485, 1.5) (62.8931, 14.6393, 1.5) (62.0497, -9.7101, 1.5) (61.1108, -14.3854, 1.5) (73.519, -19.5745, 1.5) (69.9342, -20.2677, 1.5) (68.5475, -22.3479, 1.5) (76.1137, -21.9234, 1.5) (88.2897, -8.4735, 1.5) (101.3711, 6.2937, 1.5) (114.112, 20.9931, 1.5) (111.4673, 23.2855, 1.5) (84.9894, 5.085, 1.5) (98.7263, 8.5861, 1.5) (83.6242, -0.6957, 1.5) (83.9972, 2.7903, 1.5) (84.475, -4.0907, 1.5) (85.695, -6.1246, 1.5) (26.7472, 19.0087, 1.5) (24.45, 17.0576, 1.5) (27.1519, 21.4758, 1.5)
properties part number "脚ギアトレイン2" material "ポリカーボネート、スモーク"
